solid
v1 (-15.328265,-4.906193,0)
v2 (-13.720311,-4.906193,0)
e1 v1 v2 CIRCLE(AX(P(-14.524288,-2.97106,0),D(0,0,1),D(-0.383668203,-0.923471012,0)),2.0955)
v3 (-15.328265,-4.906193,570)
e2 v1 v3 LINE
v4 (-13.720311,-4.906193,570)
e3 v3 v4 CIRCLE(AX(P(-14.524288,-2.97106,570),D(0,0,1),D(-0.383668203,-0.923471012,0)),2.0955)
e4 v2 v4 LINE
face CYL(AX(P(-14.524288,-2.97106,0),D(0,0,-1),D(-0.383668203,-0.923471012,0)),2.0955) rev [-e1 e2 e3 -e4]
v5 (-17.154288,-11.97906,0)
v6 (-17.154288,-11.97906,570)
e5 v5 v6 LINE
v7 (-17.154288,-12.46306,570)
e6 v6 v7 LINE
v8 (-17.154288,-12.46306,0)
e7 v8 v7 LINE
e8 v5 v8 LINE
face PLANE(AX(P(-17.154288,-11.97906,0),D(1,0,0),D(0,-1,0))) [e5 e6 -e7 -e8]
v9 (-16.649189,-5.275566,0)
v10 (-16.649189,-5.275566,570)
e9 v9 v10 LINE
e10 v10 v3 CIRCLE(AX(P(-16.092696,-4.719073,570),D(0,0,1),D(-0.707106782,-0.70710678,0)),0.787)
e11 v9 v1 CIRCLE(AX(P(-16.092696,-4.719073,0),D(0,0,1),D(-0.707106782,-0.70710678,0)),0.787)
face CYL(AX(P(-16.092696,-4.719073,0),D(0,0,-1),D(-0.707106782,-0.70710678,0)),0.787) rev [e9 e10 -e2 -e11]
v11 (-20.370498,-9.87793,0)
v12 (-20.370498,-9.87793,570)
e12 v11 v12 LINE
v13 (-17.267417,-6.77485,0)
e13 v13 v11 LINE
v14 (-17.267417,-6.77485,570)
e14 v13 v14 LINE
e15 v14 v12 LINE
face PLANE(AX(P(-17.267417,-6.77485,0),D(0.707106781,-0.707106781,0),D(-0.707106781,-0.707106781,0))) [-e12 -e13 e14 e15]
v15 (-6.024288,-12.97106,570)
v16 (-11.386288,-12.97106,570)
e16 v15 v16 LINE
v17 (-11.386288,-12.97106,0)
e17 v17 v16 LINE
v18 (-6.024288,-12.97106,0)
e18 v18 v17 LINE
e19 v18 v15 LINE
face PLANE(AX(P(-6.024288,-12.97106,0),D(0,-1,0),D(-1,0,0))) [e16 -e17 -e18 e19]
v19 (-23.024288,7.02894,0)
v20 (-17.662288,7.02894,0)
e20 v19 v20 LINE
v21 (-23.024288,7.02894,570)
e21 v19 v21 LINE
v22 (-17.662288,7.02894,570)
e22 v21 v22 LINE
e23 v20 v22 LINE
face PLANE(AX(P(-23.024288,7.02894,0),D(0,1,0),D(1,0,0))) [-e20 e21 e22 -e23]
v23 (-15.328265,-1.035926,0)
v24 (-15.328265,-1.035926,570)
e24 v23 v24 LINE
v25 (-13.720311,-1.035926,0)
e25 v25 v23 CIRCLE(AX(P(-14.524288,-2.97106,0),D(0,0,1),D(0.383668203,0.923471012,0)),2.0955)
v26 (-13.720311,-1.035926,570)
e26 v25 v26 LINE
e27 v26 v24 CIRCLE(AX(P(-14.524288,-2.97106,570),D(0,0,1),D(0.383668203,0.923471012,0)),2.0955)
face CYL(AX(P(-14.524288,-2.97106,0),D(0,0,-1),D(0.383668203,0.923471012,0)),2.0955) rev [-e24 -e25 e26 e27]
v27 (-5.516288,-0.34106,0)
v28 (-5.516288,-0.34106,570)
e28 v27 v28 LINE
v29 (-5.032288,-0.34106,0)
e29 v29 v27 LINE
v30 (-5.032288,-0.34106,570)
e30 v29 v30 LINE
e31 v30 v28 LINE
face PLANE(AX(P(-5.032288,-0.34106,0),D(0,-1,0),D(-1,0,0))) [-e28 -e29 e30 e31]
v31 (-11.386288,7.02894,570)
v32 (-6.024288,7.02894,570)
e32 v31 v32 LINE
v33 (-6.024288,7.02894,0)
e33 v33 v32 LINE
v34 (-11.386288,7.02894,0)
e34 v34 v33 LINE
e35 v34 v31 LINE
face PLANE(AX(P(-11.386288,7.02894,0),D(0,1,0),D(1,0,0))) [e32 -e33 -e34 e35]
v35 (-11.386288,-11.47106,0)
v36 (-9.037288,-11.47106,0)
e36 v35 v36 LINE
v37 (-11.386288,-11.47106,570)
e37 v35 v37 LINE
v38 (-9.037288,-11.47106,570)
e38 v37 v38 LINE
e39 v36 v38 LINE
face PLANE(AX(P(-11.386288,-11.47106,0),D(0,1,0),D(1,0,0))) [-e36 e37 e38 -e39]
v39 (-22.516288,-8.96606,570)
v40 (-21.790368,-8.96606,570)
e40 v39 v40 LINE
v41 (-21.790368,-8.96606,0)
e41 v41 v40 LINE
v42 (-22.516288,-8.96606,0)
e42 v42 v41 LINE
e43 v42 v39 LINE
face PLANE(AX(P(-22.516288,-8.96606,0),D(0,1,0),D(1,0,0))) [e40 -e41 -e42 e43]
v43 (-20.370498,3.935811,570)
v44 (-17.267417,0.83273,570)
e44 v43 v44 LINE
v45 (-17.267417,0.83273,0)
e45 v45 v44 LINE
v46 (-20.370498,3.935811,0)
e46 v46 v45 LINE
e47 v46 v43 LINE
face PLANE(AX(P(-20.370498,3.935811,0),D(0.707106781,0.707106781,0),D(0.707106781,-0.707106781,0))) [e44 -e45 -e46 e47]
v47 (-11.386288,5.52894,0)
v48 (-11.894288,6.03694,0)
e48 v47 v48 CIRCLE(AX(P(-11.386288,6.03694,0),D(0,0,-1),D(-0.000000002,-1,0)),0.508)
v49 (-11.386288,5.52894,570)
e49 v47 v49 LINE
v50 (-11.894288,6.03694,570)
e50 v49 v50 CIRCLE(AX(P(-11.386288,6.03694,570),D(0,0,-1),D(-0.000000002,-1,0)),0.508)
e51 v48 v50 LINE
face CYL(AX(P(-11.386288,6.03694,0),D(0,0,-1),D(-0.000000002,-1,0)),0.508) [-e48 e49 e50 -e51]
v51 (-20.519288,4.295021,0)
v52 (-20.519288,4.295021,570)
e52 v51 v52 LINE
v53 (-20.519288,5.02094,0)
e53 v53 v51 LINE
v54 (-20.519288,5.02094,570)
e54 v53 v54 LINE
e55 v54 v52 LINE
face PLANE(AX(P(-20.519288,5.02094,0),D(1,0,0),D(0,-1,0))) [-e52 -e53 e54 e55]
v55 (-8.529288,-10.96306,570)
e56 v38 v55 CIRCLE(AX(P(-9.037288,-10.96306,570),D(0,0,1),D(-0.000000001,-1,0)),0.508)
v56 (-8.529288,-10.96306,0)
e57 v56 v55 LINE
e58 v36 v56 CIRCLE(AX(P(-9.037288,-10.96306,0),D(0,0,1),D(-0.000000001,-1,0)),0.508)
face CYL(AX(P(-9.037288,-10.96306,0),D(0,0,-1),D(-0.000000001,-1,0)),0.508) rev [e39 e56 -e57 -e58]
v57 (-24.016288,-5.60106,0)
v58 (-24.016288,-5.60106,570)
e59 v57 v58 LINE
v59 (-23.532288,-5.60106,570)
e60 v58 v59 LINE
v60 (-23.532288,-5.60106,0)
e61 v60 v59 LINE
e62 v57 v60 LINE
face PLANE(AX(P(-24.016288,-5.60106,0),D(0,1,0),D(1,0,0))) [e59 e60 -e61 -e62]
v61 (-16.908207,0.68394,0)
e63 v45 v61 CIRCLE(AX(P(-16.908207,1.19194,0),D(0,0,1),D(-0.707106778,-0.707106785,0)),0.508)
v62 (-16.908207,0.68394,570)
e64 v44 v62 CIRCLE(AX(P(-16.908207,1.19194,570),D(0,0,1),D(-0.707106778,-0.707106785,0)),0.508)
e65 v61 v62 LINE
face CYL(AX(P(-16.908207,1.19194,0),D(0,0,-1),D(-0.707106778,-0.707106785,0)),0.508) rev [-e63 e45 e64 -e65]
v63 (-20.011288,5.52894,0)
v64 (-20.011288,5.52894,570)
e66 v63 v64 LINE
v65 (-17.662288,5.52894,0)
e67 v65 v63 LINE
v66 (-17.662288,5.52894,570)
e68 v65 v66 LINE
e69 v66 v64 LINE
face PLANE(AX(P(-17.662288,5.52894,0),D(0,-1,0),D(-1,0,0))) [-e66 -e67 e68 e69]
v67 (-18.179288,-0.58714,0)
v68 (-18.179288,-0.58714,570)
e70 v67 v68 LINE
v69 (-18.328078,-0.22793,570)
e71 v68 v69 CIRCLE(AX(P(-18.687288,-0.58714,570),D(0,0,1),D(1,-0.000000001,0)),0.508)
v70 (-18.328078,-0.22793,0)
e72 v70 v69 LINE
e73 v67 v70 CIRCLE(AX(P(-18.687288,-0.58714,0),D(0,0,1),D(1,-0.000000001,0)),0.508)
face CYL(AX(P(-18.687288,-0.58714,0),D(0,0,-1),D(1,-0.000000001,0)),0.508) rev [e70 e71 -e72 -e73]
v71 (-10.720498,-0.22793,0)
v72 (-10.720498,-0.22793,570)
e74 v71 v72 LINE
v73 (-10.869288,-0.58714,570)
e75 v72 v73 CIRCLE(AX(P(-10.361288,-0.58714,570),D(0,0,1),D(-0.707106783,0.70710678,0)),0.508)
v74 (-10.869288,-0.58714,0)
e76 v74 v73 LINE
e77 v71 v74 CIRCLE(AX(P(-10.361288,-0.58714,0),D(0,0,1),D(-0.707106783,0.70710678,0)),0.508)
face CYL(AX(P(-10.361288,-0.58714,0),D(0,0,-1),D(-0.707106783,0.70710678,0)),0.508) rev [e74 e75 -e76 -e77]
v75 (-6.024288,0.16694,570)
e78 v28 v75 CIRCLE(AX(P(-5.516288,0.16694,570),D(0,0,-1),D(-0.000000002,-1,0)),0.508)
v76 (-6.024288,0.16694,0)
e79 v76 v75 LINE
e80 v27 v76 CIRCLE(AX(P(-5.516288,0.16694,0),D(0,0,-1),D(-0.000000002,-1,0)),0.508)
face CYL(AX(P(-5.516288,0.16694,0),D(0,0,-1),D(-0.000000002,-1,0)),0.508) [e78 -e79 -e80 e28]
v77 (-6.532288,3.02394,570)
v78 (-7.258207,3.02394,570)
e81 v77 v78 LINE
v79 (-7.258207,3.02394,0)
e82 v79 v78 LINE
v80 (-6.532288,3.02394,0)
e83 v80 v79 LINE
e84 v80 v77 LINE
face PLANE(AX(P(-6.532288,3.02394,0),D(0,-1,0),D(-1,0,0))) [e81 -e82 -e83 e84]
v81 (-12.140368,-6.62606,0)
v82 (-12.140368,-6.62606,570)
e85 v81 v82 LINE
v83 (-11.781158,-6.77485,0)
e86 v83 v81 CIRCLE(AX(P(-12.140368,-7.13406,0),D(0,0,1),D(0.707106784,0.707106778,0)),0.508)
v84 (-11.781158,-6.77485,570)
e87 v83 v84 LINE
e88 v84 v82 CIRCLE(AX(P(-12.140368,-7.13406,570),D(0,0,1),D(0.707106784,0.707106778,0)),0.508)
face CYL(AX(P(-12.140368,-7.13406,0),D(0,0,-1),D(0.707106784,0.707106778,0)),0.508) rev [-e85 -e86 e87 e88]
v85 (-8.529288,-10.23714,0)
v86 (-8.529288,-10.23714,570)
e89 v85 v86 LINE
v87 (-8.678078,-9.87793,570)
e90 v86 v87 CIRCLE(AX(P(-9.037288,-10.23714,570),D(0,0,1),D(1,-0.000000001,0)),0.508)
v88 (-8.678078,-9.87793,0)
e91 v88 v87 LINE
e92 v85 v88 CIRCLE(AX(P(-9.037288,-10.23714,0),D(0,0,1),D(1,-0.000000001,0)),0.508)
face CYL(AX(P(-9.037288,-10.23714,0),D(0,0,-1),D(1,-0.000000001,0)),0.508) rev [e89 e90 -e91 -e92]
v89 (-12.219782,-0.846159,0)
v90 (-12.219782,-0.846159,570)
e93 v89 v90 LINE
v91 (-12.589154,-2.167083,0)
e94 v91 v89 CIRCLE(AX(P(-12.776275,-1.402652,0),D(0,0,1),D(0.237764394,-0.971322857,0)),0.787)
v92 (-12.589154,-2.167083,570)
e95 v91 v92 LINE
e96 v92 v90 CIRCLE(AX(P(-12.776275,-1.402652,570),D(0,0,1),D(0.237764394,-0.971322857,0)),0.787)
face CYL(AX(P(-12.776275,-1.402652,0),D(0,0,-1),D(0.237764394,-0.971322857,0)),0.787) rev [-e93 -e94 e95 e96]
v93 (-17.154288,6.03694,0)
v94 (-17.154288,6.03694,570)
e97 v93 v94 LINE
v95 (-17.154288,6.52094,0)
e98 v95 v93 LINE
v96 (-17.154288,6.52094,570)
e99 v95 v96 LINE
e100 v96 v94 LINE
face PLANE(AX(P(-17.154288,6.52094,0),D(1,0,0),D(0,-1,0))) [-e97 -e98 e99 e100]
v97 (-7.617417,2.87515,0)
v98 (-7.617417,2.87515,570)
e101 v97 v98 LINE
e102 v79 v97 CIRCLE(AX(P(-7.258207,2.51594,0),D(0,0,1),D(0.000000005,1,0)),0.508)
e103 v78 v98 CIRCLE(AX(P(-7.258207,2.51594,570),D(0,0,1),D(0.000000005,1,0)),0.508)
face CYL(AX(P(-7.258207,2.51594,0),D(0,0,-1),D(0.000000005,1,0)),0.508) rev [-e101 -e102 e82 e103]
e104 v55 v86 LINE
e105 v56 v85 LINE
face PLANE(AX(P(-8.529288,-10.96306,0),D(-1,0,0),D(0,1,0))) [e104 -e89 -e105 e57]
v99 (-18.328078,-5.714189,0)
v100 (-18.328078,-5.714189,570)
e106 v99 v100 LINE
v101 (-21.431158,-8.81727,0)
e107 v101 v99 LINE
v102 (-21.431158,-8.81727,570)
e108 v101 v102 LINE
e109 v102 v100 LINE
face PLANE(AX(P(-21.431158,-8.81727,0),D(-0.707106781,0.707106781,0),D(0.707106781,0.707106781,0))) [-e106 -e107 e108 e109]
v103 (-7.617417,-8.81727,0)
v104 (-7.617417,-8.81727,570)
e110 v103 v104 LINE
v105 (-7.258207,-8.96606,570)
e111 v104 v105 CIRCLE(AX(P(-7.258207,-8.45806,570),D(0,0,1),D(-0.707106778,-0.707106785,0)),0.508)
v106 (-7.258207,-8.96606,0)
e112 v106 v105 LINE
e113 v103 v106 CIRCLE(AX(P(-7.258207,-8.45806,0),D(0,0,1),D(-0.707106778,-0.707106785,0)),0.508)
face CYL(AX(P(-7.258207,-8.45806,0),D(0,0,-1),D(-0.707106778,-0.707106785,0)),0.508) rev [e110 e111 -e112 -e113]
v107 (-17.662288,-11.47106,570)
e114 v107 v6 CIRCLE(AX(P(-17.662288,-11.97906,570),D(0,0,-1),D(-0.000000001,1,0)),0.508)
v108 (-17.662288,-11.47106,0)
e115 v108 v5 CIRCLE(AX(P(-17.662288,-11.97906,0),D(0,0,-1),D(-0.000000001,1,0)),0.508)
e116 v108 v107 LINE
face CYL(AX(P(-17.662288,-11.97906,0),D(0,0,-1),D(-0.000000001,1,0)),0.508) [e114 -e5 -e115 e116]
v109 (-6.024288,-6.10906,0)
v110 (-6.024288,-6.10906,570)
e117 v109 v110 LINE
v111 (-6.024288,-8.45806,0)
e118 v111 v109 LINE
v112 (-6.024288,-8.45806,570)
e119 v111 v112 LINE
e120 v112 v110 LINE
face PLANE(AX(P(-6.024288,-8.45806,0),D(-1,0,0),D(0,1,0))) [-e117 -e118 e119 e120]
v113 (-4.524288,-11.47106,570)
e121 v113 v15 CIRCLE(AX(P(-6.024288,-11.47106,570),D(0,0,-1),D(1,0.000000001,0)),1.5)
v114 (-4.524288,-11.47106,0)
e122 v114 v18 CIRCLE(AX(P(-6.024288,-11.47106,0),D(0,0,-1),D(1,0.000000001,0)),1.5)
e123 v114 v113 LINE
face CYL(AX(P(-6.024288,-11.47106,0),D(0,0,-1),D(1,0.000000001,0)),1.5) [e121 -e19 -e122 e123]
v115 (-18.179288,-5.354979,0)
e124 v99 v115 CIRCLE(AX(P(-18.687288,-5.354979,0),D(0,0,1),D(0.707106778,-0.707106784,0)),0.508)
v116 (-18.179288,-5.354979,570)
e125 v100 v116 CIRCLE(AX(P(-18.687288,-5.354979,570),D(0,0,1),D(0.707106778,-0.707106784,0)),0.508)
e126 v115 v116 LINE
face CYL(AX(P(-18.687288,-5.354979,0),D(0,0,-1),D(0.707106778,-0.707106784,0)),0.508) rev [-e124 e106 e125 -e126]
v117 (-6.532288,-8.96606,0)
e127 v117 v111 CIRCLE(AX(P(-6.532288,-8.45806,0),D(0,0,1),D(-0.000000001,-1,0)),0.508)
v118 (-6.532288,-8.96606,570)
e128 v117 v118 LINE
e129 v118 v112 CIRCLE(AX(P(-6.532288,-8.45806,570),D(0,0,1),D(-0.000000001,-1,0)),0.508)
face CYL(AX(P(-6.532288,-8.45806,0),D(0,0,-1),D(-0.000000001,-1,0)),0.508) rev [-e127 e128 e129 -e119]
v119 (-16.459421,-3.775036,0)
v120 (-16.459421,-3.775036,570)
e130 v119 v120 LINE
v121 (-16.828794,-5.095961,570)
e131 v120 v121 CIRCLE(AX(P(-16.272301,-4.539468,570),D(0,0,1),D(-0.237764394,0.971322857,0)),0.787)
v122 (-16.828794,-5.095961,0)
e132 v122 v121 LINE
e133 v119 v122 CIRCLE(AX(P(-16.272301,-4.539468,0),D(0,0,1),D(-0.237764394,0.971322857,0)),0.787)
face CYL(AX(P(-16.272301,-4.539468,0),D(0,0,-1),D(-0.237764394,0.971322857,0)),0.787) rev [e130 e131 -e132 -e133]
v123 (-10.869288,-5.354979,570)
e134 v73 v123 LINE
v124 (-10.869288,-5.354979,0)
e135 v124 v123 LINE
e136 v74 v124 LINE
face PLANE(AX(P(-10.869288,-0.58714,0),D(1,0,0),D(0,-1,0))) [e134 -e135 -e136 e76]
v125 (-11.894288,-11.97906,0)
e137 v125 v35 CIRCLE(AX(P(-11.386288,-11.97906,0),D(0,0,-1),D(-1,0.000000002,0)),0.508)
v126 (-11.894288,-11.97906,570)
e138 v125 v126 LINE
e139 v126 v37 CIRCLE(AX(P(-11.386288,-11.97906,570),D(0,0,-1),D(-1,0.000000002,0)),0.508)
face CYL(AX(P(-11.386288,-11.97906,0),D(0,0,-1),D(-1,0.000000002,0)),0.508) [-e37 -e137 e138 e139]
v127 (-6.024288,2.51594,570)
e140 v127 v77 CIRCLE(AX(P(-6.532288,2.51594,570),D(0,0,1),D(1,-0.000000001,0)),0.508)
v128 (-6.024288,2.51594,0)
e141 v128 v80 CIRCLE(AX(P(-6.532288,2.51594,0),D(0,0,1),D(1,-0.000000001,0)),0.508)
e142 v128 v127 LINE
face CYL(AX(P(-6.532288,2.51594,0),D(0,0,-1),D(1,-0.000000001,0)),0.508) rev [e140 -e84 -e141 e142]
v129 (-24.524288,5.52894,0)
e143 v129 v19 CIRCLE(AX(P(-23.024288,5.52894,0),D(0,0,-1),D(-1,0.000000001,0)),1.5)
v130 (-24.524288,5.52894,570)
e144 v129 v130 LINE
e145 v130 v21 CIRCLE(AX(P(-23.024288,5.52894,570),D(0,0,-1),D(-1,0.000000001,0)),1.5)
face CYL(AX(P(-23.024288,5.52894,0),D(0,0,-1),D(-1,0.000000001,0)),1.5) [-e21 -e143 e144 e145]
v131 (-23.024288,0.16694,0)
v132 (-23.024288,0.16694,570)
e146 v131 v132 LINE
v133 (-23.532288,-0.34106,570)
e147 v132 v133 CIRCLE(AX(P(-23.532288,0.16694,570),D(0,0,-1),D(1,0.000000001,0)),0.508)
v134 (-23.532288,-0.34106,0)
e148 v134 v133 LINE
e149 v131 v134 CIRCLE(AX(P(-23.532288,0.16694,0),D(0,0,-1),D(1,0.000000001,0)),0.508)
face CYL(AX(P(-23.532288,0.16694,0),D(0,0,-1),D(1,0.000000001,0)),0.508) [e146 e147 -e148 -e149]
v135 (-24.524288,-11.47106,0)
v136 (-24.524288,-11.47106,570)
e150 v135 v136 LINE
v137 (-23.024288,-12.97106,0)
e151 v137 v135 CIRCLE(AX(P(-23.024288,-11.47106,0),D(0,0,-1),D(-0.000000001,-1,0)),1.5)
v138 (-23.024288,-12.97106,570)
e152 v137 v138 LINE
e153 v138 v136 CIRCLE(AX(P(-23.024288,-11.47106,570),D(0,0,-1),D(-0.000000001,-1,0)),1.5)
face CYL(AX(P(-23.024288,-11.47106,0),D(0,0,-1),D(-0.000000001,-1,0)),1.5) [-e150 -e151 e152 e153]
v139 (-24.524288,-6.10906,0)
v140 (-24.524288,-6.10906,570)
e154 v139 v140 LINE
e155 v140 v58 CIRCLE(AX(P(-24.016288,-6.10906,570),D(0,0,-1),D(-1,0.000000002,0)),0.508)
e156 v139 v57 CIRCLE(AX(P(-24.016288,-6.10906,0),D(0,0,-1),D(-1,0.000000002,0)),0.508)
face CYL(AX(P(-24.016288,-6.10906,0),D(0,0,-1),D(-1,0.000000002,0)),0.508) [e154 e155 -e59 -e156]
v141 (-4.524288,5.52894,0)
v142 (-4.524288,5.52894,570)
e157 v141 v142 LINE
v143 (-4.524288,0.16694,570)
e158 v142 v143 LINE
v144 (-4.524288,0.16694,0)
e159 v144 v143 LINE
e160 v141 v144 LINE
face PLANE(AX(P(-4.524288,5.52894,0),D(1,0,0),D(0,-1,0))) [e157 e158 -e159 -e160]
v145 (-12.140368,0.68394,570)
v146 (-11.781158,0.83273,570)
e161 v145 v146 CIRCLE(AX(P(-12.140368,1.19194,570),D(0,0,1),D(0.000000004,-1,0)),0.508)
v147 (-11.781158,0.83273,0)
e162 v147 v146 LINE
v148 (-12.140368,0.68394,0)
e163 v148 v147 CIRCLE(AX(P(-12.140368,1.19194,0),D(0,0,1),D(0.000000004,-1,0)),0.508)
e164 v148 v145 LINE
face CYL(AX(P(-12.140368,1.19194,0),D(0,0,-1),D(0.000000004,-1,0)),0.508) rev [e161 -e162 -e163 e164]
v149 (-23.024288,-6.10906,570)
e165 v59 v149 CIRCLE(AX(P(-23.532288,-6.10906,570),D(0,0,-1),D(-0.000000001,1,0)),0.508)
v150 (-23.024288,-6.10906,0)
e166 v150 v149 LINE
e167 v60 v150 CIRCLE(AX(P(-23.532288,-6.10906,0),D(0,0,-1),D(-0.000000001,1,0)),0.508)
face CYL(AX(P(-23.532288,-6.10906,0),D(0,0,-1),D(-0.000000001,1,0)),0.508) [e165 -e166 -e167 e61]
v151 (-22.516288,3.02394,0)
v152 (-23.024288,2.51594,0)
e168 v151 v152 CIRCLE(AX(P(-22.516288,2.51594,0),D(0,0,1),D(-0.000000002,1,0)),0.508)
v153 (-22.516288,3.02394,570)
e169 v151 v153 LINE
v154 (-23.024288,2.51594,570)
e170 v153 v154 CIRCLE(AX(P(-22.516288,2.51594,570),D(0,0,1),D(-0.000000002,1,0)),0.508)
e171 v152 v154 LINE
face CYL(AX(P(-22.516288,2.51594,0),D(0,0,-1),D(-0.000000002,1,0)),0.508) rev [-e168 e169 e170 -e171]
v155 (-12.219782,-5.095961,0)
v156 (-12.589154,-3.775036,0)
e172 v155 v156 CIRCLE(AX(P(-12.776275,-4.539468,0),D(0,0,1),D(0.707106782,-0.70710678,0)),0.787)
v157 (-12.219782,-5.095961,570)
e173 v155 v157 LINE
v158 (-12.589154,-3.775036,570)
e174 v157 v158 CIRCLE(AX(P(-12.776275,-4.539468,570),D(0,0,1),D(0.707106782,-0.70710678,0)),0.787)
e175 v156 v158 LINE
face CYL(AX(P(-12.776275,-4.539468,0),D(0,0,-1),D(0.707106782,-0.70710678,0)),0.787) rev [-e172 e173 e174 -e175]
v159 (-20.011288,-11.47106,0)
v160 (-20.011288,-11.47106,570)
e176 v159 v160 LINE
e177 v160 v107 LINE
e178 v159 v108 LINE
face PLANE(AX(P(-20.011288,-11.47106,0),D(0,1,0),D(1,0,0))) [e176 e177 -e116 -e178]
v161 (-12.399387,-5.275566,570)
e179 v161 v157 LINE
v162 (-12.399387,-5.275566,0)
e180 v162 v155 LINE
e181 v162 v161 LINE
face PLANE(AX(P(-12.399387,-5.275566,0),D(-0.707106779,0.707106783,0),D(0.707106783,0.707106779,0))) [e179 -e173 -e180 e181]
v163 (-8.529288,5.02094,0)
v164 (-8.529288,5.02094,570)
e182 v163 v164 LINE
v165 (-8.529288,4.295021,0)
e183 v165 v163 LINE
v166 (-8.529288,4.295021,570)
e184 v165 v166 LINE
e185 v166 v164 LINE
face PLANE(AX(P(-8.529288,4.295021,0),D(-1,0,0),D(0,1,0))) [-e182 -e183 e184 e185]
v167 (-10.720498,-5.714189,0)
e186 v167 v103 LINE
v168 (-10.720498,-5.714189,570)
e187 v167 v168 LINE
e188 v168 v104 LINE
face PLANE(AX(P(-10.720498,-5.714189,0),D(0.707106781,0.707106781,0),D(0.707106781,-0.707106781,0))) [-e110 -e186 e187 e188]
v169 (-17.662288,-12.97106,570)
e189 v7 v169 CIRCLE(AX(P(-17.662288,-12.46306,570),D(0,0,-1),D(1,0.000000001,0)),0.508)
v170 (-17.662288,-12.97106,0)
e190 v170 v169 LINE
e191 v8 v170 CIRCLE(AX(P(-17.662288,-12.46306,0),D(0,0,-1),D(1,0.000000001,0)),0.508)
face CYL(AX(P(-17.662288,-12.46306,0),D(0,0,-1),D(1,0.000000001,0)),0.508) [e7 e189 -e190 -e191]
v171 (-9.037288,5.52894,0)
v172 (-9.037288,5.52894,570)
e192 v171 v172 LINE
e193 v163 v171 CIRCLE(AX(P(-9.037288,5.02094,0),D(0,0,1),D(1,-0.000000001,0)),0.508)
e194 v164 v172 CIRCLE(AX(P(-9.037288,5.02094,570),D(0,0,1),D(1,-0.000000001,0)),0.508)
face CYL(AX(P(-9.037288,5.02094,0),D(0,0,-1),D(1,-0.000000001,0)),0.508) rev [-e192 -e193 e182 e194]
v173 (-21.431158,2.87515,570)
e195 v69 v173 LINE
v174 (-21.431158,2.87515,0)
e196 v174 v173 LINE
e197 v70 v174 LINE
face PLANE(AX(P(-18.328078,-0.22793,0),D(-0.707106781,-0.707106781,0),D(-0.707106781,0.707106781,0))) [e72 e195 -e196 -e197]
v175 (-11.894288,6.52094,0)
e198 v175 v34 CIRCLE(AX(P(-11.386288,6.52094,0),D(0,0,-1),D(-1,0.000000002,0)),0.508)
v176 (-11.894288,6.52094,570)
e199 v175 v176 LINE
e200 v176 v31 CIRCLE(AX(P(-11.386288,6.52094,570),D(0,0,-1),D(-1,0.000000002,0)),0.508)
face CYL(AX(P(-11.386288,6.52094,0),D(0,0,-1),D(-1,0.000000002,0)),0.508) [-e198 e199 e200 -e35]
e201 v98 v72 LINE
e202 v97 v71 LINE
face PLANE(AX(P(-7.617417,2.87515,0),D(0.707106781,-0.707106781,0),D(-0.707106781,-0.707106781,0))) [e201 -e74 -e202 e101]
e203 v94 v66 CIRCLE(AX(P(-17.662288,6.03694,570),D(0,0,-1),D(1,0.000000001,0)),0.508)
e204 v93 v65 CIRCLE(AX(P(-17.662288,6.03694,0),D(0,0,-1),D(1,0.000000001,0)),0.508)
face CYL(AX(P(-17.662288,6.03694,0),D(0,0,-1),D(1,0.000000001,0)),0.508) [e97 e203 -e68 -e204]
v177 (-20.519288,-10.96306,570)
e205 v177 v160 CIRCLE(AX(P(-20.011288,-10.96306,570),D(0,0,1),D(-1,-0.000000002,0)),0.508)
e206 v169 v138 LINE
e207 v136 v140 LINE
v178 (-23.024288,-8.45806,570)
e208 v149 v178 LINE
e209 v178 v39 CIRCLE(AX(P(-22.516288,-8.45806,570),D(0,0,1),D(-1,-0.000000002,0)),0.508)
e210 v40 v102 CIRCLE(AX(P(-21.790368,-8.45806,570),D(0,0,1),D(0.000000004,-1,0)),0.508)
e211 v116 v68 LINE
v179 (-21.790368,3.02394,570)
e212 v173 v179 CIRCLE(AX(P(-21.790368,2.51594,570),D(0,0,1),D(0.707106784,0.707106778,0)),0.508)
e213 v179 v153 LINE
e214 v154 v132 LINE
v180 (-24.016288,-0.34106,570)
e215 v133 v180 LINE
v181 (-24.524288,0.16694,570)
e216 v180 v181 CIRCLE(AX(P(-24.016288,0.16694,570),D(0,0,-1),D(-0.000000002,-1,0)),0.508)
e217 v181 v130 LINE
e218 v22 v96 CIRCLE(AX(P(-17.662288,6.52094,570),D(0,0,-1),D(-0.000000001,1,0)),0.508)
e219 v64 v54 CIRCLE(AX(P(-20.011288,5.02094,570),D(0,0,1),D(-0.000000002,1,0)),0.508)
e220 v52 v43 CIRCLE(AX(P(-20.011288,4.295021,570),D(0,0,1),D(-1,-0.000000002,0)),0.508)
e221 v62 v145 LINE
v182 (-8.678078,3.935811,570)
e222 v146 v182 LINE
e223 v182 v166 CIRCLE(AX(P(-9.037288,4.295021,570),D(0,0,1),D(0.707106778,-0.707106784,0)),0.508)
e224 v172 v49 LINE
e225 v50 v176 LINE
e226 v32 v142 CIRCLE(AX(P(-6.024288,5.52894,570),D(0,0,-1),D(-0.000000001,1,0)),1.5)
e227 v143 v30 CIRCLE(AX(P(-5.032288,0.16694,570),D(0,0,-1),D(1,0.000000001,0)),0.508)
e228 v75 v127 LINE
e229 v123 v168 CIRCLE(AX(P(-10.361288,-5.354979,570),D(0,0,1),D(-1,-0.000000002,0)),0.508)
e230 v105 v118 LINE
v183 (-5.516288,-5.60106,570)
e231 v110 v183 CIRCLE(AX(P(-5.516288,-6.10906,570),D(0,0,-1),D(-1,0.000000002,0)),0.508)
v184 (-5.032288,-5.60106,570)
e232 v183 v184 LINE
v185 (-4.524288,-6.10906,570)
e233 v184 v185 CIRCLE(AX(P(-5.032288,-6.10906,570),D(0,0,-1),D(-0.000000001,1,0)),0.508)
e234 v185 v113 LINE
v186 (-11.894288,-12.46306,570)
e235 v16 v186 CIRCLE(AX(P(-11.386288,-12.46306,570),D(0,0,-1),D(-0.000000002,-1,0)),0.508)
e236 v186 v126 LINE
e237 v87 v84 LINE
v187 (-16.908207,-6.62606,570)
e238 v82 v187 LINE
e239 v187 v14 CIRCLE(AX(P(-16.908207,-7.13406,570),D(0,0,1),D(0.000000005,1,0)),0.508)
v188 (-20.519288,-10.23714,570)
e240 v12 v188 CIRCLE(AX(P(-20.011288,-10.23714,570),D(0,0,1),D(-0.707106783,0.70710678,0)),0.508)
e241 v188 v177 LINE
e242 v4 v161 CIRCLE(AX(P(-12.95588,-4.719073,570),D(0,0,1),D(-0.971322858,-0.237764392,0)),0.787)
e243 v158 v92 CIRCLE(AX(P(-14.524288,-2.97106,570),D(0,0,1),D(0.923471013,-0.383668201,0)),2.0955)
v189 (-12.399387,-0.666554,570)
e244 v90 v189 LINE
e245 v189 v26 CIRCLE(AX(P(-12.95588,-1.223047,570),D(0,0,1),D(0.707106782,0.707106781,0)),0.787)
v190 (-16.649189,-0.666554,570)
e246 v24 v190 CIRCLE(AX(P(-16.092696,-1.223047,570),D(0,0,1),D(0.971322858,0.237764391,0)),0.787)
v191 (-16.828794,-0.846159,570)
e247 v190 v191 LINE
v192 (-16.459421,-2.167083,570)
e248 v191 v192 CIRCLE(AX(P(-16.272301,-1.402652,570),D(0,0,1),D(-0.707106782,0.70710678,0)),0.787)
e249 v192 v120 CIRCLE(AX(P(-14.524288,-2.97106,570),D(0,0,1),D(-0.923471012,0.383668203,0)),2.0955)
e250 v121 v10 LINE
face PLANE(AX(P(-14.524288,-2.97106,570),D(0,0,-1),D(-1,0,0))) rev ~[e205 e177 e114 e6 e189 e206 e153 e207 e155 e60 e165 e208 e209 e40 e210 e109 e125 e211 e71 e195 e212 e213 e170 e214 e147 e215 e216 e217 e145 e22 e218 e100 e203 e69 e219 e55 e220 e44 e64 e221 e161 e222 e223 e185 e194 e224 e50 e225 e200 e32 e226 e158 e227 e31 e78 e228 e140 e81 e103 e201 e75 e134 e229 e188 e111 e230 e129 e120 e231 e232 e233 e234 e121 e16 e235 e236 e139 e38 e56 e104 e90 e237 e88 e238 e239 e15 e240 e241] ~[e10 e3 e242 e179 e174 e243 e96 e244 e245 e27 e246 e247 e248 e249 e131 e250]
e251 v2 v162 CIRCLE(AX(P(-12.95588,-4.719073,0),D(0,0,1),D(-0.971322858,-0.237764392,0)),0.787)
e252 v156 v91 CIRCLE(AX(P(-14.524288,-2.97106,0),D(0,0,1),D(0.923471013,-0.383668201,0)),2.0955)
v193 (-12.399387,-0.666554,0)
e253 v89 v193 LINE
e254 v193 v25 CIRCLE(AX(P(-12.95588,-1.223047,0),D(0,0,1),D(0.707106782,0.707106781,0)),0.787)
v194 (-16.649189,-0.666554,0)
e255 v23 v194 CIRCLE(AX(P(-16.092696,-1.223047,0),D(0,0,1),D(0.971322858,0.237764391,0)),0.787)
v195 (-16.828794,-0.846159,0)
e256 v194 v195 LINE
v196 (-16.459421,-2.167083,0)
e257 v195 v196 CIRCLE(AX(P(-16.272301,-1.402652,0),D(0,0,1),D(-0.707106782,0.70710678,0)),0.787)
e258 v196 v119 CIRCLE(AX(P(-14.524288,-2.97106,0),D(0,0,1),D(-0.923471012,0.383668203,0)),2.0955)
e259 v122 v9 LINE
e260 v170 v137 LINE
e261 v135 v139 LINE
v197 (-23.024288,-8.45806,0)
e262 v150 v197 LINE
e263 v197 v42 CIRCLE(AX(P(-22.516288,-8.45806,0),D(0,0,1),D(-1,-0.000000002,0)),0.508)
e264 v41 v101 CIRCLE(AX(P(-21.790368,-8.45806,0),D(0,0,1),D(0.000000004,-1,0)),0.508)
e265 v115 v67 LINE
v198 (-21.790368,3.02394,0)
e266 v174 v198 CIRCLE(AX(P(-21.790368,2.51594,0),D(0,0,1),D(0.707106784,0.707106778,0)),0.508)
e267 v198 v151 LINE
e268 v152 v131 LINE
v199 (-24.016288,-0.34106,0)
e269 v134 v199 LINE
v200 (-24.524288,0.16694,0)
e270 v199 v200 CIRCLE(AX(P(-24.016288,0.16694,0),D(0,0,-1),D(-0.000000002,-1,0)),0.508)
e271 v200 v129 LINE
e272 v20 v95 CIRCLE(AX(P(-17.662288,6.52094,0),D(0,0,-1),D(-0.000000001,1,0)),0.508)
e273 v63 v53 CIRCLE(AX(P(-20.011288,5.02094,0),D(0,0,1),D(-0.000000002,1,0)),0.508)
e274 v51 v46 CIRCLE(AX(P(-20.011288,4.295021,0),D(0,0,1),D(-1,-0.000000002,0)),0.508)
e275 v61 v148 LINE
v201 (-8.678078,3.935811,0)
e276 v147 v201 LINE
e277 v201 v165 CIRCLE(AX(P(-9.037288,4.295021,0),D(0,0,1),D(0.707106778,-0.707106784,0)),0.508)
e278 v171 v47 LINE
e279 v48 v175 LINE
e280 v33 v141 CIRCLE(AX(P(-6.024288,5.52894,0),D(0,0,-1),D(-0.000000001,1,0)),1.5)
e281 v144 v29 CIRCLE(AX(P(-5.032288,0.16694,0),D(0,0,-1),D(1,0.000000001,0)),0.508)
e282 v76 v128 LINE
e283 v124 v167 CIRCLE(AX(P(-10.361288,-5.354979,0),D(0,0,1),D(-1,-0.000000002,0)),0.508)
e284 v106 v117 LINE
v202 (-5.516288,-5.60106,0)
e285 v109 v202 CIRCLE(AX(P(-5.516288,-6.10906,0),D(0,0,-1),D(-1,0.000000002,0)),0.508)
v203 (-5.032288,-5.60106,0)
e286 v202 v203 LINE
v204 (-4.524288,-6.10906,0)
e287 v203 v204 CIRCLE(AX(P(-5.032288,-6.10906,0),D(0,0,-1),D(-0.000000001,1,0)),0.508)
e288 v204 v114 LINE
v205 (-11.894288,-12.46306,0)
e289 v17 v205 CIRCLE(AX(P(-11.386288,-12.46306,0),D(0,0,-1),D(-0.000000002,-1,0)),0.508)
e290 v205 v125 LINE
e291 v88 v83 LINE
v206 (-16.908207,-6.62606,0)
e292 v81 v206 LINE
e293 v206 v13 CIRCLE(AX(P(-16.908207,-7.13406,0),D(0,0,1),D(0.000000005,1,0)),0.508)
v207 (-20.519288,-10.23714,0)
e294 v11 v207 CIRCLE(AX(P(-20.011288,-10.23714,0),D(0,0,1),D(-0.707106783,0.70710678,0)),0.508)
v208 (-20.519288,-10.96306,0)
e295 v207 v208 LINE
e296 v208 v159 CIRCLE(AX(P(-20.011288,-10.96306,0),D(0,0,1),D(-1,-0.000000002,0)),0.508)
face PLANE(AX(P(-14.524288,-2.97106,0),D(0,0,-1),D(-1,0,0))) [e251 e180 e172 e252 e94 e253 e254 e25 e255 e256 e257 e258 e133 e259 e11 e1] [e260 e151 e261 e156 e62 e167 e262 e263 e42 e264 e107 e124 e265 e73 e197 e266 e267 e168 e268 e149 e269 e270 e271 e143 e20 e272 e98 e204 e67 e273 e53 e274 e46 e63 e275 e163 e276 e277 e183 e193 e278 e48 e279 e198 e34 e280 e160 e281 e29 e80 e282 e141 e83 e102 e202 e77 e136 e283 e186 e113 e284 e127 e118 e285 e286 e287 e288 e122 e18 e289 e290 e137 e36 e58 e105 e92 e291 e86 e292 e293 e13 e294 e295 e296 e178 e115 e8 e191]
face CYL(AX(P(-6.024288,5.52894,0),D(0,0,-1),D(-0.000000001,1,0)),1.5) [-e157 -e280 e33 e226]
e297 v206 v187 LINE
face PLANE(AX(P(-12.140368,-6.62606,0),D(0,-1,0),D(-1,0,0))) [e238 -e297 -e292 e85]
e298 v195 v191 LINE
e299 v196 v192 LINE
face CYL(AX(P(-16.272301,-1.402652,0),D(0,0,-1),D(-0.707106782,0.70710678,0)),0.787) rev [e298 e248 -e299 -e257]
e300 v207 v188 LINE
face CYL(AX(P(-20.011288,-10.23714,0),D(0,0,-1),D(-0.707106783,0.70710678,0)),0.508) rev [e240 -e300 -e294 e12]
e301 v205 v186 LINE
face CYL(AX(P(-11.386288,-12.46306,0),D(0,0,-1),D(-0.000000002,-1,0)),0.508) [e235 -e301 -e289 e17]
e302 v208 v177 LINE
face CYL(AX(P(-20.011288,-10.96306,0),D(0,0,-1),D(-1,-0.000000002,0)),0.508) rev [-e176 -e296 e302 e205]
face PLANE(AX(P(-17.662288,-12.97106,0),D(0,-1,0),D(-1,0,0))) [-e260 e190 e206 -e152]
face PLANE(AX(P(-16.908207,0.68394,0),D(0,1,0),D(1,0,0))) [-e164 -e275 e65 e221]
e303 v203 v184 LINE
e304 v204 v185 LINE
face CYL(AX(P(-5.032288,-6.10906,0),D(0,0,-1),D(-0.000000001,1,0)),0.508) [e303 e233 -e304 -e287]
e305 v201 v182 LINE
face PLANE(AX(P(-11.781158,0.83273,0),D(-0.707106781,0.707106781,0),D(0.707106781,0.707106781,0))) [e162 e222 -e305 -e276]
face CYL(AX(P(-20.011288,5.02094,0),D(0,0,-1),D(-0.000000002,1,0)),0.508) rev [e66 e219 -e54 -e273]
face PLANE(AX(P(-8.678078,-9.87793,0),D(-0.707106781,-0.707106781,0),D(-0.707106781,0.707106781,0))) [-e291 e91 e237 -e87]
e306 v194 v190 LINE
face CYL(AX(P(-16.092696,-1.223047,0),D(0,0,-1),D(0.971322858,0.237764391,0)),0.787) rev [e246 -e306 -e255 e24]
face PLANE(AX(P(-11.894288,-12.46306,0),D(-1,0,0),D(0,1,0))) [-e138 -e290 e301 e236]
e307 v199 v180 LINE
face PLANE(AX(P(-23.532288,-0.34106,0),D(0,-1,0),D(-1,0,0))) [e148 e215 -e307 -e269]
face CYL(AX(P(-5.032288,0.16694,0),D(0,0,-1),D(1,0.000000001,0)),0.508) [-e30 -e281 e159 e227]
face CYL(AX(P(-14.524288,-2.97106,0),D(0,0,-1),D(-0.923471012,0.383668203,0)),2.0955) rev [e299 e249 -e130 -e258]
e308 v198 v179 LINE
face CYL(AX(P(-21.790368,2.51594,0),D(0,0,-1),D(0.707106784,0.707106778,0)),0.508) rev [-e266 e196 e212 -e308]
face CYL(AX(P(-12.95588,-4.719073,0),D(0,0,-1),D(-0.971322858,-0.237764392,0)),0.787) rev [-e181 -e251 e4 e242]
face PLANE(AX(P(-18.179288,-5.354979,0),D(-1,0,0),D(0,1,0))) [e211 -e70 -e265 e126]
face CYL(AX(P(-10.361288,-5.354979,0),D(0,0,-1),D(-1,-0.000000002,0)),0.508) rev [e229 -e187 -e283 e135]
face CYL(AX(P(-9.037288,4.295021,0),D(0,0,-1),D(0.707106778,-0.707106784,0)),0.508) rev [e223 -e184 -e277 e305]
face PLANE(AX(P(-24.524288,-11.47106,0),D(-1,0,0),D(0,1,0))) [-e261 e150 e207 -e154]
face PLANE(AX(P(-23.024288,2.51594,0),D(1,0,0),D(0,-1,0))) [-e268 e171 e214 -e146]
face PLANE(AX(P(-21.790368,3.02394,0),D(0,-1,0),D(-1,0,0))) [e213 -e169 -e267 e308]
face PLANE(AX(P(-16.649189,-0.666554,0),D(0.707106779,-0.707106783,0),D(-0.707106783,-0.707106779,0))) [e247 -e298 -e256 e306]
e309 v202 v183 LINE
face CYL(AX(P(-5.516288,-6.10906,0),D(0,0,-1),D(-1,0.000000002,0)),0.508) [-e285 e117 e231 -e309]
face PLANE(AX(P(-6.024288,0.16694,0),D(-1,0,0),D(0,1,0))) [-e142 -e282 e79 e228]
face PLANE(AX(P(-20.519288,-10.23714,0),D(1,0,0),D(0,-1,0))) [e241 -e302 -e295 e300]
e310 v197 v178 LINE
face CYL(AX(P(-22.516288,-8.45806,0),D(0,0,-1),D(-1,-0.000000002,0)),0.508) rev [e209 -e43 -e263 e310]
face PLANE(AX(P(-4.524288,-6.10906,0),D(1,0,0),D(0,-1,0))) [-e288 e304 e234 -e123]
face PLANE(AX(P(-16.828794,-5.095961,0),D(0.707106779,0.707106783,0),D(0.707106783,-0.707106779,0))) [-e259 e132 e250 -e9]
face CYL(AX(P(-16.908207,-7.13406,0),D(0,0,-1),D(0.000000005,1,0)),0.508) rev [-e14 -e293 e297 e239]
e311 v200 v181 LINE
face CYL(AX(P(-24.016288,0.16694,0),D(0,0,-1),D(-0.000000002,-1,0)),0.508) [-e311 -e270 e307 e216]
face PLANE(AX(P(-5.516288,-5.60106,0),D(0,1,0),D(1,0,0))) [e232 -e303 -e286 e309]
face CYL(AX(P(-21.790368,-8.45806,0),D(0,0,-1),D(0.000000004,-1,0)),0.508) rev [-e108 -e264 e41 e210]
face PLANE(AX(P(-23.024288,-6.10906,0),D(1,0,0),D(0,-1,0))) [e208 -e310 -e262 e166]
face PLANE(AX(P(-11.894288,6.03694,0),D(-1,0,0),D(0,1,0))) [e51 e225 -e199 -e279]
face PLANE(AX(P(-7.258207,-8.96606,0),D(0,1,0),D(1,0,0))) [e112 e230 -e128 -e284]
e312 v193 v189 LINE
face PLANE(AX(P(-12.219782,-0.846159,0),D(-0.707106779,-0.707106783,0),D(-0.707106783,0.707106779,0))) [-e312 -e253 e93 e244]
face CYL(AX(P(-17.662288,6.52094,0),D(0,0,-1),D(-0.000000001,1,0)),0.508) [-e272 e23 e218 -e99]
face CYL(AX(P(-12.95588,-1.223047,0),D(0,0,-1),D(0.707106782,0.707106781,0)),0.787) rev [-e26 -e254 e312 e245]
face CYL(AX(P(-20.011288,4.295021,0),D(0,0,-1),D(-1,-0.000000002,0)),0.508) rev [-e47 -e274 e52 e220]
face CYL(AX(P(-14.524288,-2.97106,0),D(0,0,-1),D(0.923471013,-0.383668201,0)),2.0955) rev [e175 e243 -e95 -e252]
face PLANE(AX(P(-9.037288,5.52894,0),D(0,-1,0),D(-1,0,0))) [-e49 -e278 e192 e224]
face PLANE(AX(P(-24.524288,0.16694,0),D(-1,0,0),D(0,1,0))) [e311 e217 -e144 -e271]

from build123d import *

# Parameters (mm, degrees)
EXTRUDE1_DEPTH = 570


with BuildPart() as part:
    # Sketch1 → Extrude1 (new body)
    with BuildSketch(Plane.XY):
        with BuildLine():
            Line((-5.032287798, -0.341059771), (-5.516287798, -0.341059771))
            ThreePointArc((-5.516287798, -0.341059771), (-5.875498042, -0.192270016), (-6.024287798, 0.166940229))
            Line((-6.024287798, 0.166940229), (-6.024287798, 2.515940229))
            ThreePointArc((-6.024287798, 2.515940229), (-6.173077553, 2.875150474), (-6.532287798, 3.023940229))
            Line((-6.532287798, 3.023940229), (-7.258207136, 3.023940229))
            ThreePointArc((-7.258207136, 3.023940229), (-7.45261032, 2.985271032), (-7.617417381, 2.875150474))
            Line((-7.617417381, 2.875150474), (-10.720498042, -0.227930187))
            ThreePointArc((-10.720498042, -0.227930187), (-10.8306186, -0.392737249), (-10.869287798, -0.587140432))
            Line((-10.869287798, -0.587140432), (-10.869287798, -5.354979109))
            ThreePointArc((-10.869287798, -5.354979109), (-10.8306186, -5.549382293), (-10.720498042, -5.714189354))
            Line((-10.720498042, -5.714189354), (-7.617417381, -8.817270016))
            ThreePointArc((-7.617417381, -8.817270016), (-7.45261032, -8.927390573), (-7.258207136, -8.966059771))
            Line((-7.258207136, -8.966059771), (-6.532287798, -8.966059771))
            ThreePointArc((-6.532287798, -8.966059771), (-6.173077553, -8.817270016), (-6.024287798, -8.458059771))
            Line((-6.024287798, -8.458059771), (-6.024287798, -6.109059771))
            ThreePointArc((-6.024287798, -6.109059771), (-5.875498042, -5.749849526), (-5.516287798, -5.601059771))
            Line((-5.516287798, -5.601059771), (-5.032287798, -5.601059771))
            ThreePointArc((-5.032287798, -5.601059771), (-4.673077553, -5.749849526), (-4.524287798, -6.109059771))
            Line((-4.524287798, -6.109059771), (-4.524287798, -11.471059771))
            ThreePointArc((-4.524287798, -11.471059771), (-4.963627626, -12.531719943), (-6.024287798, -12.971059771))
            Line((-6.024287798, -12.971059771), (-11.386287798, -12.971059771))
            ThreePointArc((-11.386287798, -12.971059771), (-11.745498042, -12.822270016), (-11.894287798, -12.463059771))
            Line((-11.894287798, -12.463059771), (-11.894287798, -11.979059771))
            ThreePointArc((-11.894287798, -11.979059771), (-11.745498042, -11.619849526), (-11.386287798, -11.471059771))
            Line((-11.386287798, -11.471059771), (-9.037287798, -11.471059771))
            ThreePointArc((-9.037287798, -11.471059771), (-8.678077553, -11.322270016), (-8.529287798, -10.963059771))
            Line((-8.529287798, -10.963059771), (-8.529287798, -10.237140432))
            ThreePointArc((-8.529287798, -10.237140432), (-8.567956995, -10.042737249), (-8.678077553, -9.877930187))
            Line((-8.678077553, -9.877930187), (-11.781158214, -6.774849526))
            ThreePointArc((-11.781158214, -6.774849526), (-11.945965275, -6.664728968), (-12.140368459, -6.626059771))
            Line((-12.140368459, -6.626059771), (-16.908207136, -6.626059771))
            ThreePointArc((-16.908207136, -6.626059771), (-17.10261032, -6.664728968), (-17.267417381, -6.774849526))
            Line((-17.267417381, -6.774849526), (-20.370498042, -9.877930187))
            ThreePointArc((-20.370498042, -9.877930187), (-20.4806186, -10.042737249), (-20.519287798, -10.237140432))
            Line((-20.519287798, -10.237140432), (-20.519287798, -10.963059771))
            ThreePointArc((-20.519287798, -10.963059771), (-20.370498042, -11.322270016), (-20.011287798, -11.471059771))
            Line((-20.011287798, -11.471059771), (-17.662287798, -11.471059771))
            ThreePointArc((-17.662287798, -11.471059771), (-17.303077553, -11.619849526), (-17.154287798, -11.979059771))
            Line((-17.154287798, -11.979059771), (-17.154287798, -12.463059771))
            ThreePointArc((-17.154287798, -12.463059771), (-17.303077553, -12.822270016), (-17.662287798, -12.971059771))
            Line((-17.662287798, -12.971059771), (-23.024287798, -12.971059771))
            ThreePointArc((-23.024287798, -12.971059771), (-24.084947969, -12.531719943), (-24.524287798, -11.471059771))
            Line((-24.524287798, -11.471059771), (-24.524287798, -6.109059771))
            ThreePointArc((-24.524287798, -6.109059771), (-24.375498042, -5.749849526), (-24.016287798, -5.601059771))
            Line((-24.016287798, -5.601059771), (-23.532287798, -5.601059771))
            ThreePointArc((-23.532287798, -5.601059771), (-23.173077553, -5.749849526), (-23.024287798, -6.109059771))
            Line((-23.024287798, -6.109059771), (-23.024287798, -8.458059771))
            ThreePointArc((-23.024287798, -8.458059771), (-22.875498042, -8.817270016), (-22.516287798, -8.966059771))
            Line((-22.516287798, -8.966059771), (-21.790368459, -8.966059771))
            ThreePointArc((-21.790368459, -8.966059771), (-21.595965275, -8.927390573), (-21.431158214, -8.817270016))
            Line((-21.431158214, -8.817270016), (-18.328077553, -5.714189354))
            ThreePointArc((-18.328077553, -5.714189354), (-18.217956995, -5.549382293), (-18.179287798, -5.354979109))
            Line((-18.179287798, -5.354979109), (-18.179287798, -0.587140432))
            ThreePointArc((-18.179287798, -0.587140432), (-18.217956995, -0.392737249), (-18.328077553, -0.227930187))
            Line((-18.328077553, -0.227930187), (-21.431158214, 2.875150474))
            ThreePointArc((-21.431158214, 2.875150474), (-21.595965275, 2.985271032), (-21.790368459, 3.023940229))
            Line((-21.790368459, 3.023940229), (-22.516287798, 3.023940229))
            ThreePointArc((-22.516287798, 3.023940229), (-22.875498042, 2.875150474), (-23.024287798, 2.515940229))
            Line((-23.024287798, 2.515940229), (-23.024287798, 0.166940229))
            ThreePointArc((-23.024287798, 0.166940229), (-23.173077553, -0.192270016), (-23.532287798, -0.341059771))
            Line((-23.532287798, -0.341059771), (-24.016287798, -0.341059771))
            ThreePointArc((-24.016287798, -0.341059771), (-24.375498042, -0.192270016), (-24.524287798, 0.166940229))
            Line((-24.524287798, 0.166940229), (-24.524287798, 5.528940229))
            ThreePointArc((-24.524287798, 5.528940229), (-24.084947969, 6.589600401), (-23.024287798, 7.028940229))
            Line((-23.024287798, 7.028940229), (-17.662287798, 7.028940229))
            ThreePointArc((-17.662287798, 7.028940229), (-17.303077553, 6.880150474), (-17.154287798, 6.520940229))
            Line((-17.154287798, 6.520940229), (-17.154287798, 6.036940229))
            ThreePointArc((-17.154287798, 6.036940229), (-17.303077553, 5.677729984), (-17.662287798, 5.528940229))
            Line((-17.662287798, 5.528940229), (-20.011287798, 5.528940229))
            ThreePointArc((-20.011287798, 5.528940229), (-20.370498042, 5.380150474), (-20.519287798, 5.020940229))
            Line((-20.519287798, 5.020940229), (-20.519287798, 4.295020891))
            ThreePointArc((-20.519287798, 4.295020891), (-20.4806186, 4.100617707), (-20.370498042, 3.935810646))
            Line((-20.370498042, 3.935810646), (-17.267417381, 0.832729984))
            ThreePointArc((-17.267417381, 0.832729984), (-17.10261032, 0.722609427), (-16.908207136, 0.683940229))
            Line((-16.908207136, 0.683940229), (-12.140368459, 0.683940229))
            ThreePointArc((-12.140368459, 0.683940229), (-11.945965275, 0.722609427), (-11.781158214, 0.832729984))
            Line((-11.781158214, 0.832729984), (-8.678077553, 3.935810646))
            ThreePointArc((-8.678077553, 3.935810646), (-8.567956995, 4.100617707), (-8.529287798, 4.295020891))
            Line((-8.529287798, 4.295020891), (-8.529287798, 5.020940229))
            ThreePointArc((-8.529287798, 5.020940229), (-8.678077553, 5.380150474), (-9.037287798, 5.528940229))
            Line((-9.037287798, 5.528940229), (-11.386287798, 5.528940229))
            ThreePointArc((-11.386287798, 5.528940229), (-11.745498042, 5.677729984), (-11.894287798, 6.036940229))
            Line((-11.894287798, 6.036940229), (-11.894287798, 6.520940229))
            ThreePointArc((-11.894287798, 6.520940229), (-11.745498042, 6.880150474), (-11.386287798, 7.028940229))
            Line((-11.386287798, 7.028940229), (-6.024287798, 7.028940229))
            ThreePointArc((-6.024287798, 7.028940229), (-4.963627626, 6.589600401), (-4.524287798, 5.528940229))
            Line((-4.524287798, 5.528940229), (-4.524287798, 0.166940229))
            ThreePointArc((-4.524287798, 0.166940229), (-4.673077553, -0.192270016), (-5.032287798, -0.341059771))
        make_face()
        with BuildLine():
            Line((-12.399386954, -5.275565737), (-12.219781831, -5.095960615))
            ThreePointArc((-12.219781831, -5.095960615), (-12.018349781, -4.327527582), (-12.589154291, -3.775036489))
            ThreePointArc((-12.589154291, -3.775036489), (-12.428787798, -2.971059771), (-12.589154291, -2.167083053))
            ThreePointArc((-12.589154291, -2.167083053), (-12.018349781, -1.61459196), (-12.219781831, -0.846158927))
            Line((-12.219781831, -0.846158927), (-12.399386954, -0.666553805))
            ThreePointArc((-12.399386954, -0.666553805), (-13.167819987, -0.465121754), (-13.72031108, -1.035926265))
            ThreePointArc((-13.72031108, -1.035926265), (-14.524287798, -0.875559771), (-15.328264516, -1.035926265))
            ThreePointArc((-15.328264516, -1.035926265), (-15.880755608, -0.465121754), (-16.649188641, -0.666553805))
            Line((-16.649188641, -0.666553805), (-16.828793764, -0.846158927))
            ThreePointArc((-16.828793764, -0.846158927), (-17.030225814, -1.61459196), (-16.459421304, -2.167083053))
            ThreePointArc((-16.459421304, -2.167083053), (-16.619787798, -2.971059771), (-16.459421304, -3.775036489))
            ThreePointArc((-16.459421304, -3.775036489), (-17.030225814, -4.327527582), (-16.828793764, -5.095960615))
            Line((-16.828793764, -5.095960615), (-16.649188641, -5.275565737))
            ThreePointArc((-16.649188641, -5.275565737), (-15.880755608, -5.476997788), (-15.328264516, -4.906193277))
            ThreePointArc((-15.328264516, -4.906193277), (-14.524287798, -5.066559771), (-13.72031108, -4.906193277))
            ThreePointArc((-13.72031108, -4.906193277), (-13.167819987, -5.476997788), (-12.399386954, -5.275565737))
        make_face(mode=Mode.SUBTRACT)
    extrude(amount=EXTRUDE1_DEPTH)


solid = part.part
